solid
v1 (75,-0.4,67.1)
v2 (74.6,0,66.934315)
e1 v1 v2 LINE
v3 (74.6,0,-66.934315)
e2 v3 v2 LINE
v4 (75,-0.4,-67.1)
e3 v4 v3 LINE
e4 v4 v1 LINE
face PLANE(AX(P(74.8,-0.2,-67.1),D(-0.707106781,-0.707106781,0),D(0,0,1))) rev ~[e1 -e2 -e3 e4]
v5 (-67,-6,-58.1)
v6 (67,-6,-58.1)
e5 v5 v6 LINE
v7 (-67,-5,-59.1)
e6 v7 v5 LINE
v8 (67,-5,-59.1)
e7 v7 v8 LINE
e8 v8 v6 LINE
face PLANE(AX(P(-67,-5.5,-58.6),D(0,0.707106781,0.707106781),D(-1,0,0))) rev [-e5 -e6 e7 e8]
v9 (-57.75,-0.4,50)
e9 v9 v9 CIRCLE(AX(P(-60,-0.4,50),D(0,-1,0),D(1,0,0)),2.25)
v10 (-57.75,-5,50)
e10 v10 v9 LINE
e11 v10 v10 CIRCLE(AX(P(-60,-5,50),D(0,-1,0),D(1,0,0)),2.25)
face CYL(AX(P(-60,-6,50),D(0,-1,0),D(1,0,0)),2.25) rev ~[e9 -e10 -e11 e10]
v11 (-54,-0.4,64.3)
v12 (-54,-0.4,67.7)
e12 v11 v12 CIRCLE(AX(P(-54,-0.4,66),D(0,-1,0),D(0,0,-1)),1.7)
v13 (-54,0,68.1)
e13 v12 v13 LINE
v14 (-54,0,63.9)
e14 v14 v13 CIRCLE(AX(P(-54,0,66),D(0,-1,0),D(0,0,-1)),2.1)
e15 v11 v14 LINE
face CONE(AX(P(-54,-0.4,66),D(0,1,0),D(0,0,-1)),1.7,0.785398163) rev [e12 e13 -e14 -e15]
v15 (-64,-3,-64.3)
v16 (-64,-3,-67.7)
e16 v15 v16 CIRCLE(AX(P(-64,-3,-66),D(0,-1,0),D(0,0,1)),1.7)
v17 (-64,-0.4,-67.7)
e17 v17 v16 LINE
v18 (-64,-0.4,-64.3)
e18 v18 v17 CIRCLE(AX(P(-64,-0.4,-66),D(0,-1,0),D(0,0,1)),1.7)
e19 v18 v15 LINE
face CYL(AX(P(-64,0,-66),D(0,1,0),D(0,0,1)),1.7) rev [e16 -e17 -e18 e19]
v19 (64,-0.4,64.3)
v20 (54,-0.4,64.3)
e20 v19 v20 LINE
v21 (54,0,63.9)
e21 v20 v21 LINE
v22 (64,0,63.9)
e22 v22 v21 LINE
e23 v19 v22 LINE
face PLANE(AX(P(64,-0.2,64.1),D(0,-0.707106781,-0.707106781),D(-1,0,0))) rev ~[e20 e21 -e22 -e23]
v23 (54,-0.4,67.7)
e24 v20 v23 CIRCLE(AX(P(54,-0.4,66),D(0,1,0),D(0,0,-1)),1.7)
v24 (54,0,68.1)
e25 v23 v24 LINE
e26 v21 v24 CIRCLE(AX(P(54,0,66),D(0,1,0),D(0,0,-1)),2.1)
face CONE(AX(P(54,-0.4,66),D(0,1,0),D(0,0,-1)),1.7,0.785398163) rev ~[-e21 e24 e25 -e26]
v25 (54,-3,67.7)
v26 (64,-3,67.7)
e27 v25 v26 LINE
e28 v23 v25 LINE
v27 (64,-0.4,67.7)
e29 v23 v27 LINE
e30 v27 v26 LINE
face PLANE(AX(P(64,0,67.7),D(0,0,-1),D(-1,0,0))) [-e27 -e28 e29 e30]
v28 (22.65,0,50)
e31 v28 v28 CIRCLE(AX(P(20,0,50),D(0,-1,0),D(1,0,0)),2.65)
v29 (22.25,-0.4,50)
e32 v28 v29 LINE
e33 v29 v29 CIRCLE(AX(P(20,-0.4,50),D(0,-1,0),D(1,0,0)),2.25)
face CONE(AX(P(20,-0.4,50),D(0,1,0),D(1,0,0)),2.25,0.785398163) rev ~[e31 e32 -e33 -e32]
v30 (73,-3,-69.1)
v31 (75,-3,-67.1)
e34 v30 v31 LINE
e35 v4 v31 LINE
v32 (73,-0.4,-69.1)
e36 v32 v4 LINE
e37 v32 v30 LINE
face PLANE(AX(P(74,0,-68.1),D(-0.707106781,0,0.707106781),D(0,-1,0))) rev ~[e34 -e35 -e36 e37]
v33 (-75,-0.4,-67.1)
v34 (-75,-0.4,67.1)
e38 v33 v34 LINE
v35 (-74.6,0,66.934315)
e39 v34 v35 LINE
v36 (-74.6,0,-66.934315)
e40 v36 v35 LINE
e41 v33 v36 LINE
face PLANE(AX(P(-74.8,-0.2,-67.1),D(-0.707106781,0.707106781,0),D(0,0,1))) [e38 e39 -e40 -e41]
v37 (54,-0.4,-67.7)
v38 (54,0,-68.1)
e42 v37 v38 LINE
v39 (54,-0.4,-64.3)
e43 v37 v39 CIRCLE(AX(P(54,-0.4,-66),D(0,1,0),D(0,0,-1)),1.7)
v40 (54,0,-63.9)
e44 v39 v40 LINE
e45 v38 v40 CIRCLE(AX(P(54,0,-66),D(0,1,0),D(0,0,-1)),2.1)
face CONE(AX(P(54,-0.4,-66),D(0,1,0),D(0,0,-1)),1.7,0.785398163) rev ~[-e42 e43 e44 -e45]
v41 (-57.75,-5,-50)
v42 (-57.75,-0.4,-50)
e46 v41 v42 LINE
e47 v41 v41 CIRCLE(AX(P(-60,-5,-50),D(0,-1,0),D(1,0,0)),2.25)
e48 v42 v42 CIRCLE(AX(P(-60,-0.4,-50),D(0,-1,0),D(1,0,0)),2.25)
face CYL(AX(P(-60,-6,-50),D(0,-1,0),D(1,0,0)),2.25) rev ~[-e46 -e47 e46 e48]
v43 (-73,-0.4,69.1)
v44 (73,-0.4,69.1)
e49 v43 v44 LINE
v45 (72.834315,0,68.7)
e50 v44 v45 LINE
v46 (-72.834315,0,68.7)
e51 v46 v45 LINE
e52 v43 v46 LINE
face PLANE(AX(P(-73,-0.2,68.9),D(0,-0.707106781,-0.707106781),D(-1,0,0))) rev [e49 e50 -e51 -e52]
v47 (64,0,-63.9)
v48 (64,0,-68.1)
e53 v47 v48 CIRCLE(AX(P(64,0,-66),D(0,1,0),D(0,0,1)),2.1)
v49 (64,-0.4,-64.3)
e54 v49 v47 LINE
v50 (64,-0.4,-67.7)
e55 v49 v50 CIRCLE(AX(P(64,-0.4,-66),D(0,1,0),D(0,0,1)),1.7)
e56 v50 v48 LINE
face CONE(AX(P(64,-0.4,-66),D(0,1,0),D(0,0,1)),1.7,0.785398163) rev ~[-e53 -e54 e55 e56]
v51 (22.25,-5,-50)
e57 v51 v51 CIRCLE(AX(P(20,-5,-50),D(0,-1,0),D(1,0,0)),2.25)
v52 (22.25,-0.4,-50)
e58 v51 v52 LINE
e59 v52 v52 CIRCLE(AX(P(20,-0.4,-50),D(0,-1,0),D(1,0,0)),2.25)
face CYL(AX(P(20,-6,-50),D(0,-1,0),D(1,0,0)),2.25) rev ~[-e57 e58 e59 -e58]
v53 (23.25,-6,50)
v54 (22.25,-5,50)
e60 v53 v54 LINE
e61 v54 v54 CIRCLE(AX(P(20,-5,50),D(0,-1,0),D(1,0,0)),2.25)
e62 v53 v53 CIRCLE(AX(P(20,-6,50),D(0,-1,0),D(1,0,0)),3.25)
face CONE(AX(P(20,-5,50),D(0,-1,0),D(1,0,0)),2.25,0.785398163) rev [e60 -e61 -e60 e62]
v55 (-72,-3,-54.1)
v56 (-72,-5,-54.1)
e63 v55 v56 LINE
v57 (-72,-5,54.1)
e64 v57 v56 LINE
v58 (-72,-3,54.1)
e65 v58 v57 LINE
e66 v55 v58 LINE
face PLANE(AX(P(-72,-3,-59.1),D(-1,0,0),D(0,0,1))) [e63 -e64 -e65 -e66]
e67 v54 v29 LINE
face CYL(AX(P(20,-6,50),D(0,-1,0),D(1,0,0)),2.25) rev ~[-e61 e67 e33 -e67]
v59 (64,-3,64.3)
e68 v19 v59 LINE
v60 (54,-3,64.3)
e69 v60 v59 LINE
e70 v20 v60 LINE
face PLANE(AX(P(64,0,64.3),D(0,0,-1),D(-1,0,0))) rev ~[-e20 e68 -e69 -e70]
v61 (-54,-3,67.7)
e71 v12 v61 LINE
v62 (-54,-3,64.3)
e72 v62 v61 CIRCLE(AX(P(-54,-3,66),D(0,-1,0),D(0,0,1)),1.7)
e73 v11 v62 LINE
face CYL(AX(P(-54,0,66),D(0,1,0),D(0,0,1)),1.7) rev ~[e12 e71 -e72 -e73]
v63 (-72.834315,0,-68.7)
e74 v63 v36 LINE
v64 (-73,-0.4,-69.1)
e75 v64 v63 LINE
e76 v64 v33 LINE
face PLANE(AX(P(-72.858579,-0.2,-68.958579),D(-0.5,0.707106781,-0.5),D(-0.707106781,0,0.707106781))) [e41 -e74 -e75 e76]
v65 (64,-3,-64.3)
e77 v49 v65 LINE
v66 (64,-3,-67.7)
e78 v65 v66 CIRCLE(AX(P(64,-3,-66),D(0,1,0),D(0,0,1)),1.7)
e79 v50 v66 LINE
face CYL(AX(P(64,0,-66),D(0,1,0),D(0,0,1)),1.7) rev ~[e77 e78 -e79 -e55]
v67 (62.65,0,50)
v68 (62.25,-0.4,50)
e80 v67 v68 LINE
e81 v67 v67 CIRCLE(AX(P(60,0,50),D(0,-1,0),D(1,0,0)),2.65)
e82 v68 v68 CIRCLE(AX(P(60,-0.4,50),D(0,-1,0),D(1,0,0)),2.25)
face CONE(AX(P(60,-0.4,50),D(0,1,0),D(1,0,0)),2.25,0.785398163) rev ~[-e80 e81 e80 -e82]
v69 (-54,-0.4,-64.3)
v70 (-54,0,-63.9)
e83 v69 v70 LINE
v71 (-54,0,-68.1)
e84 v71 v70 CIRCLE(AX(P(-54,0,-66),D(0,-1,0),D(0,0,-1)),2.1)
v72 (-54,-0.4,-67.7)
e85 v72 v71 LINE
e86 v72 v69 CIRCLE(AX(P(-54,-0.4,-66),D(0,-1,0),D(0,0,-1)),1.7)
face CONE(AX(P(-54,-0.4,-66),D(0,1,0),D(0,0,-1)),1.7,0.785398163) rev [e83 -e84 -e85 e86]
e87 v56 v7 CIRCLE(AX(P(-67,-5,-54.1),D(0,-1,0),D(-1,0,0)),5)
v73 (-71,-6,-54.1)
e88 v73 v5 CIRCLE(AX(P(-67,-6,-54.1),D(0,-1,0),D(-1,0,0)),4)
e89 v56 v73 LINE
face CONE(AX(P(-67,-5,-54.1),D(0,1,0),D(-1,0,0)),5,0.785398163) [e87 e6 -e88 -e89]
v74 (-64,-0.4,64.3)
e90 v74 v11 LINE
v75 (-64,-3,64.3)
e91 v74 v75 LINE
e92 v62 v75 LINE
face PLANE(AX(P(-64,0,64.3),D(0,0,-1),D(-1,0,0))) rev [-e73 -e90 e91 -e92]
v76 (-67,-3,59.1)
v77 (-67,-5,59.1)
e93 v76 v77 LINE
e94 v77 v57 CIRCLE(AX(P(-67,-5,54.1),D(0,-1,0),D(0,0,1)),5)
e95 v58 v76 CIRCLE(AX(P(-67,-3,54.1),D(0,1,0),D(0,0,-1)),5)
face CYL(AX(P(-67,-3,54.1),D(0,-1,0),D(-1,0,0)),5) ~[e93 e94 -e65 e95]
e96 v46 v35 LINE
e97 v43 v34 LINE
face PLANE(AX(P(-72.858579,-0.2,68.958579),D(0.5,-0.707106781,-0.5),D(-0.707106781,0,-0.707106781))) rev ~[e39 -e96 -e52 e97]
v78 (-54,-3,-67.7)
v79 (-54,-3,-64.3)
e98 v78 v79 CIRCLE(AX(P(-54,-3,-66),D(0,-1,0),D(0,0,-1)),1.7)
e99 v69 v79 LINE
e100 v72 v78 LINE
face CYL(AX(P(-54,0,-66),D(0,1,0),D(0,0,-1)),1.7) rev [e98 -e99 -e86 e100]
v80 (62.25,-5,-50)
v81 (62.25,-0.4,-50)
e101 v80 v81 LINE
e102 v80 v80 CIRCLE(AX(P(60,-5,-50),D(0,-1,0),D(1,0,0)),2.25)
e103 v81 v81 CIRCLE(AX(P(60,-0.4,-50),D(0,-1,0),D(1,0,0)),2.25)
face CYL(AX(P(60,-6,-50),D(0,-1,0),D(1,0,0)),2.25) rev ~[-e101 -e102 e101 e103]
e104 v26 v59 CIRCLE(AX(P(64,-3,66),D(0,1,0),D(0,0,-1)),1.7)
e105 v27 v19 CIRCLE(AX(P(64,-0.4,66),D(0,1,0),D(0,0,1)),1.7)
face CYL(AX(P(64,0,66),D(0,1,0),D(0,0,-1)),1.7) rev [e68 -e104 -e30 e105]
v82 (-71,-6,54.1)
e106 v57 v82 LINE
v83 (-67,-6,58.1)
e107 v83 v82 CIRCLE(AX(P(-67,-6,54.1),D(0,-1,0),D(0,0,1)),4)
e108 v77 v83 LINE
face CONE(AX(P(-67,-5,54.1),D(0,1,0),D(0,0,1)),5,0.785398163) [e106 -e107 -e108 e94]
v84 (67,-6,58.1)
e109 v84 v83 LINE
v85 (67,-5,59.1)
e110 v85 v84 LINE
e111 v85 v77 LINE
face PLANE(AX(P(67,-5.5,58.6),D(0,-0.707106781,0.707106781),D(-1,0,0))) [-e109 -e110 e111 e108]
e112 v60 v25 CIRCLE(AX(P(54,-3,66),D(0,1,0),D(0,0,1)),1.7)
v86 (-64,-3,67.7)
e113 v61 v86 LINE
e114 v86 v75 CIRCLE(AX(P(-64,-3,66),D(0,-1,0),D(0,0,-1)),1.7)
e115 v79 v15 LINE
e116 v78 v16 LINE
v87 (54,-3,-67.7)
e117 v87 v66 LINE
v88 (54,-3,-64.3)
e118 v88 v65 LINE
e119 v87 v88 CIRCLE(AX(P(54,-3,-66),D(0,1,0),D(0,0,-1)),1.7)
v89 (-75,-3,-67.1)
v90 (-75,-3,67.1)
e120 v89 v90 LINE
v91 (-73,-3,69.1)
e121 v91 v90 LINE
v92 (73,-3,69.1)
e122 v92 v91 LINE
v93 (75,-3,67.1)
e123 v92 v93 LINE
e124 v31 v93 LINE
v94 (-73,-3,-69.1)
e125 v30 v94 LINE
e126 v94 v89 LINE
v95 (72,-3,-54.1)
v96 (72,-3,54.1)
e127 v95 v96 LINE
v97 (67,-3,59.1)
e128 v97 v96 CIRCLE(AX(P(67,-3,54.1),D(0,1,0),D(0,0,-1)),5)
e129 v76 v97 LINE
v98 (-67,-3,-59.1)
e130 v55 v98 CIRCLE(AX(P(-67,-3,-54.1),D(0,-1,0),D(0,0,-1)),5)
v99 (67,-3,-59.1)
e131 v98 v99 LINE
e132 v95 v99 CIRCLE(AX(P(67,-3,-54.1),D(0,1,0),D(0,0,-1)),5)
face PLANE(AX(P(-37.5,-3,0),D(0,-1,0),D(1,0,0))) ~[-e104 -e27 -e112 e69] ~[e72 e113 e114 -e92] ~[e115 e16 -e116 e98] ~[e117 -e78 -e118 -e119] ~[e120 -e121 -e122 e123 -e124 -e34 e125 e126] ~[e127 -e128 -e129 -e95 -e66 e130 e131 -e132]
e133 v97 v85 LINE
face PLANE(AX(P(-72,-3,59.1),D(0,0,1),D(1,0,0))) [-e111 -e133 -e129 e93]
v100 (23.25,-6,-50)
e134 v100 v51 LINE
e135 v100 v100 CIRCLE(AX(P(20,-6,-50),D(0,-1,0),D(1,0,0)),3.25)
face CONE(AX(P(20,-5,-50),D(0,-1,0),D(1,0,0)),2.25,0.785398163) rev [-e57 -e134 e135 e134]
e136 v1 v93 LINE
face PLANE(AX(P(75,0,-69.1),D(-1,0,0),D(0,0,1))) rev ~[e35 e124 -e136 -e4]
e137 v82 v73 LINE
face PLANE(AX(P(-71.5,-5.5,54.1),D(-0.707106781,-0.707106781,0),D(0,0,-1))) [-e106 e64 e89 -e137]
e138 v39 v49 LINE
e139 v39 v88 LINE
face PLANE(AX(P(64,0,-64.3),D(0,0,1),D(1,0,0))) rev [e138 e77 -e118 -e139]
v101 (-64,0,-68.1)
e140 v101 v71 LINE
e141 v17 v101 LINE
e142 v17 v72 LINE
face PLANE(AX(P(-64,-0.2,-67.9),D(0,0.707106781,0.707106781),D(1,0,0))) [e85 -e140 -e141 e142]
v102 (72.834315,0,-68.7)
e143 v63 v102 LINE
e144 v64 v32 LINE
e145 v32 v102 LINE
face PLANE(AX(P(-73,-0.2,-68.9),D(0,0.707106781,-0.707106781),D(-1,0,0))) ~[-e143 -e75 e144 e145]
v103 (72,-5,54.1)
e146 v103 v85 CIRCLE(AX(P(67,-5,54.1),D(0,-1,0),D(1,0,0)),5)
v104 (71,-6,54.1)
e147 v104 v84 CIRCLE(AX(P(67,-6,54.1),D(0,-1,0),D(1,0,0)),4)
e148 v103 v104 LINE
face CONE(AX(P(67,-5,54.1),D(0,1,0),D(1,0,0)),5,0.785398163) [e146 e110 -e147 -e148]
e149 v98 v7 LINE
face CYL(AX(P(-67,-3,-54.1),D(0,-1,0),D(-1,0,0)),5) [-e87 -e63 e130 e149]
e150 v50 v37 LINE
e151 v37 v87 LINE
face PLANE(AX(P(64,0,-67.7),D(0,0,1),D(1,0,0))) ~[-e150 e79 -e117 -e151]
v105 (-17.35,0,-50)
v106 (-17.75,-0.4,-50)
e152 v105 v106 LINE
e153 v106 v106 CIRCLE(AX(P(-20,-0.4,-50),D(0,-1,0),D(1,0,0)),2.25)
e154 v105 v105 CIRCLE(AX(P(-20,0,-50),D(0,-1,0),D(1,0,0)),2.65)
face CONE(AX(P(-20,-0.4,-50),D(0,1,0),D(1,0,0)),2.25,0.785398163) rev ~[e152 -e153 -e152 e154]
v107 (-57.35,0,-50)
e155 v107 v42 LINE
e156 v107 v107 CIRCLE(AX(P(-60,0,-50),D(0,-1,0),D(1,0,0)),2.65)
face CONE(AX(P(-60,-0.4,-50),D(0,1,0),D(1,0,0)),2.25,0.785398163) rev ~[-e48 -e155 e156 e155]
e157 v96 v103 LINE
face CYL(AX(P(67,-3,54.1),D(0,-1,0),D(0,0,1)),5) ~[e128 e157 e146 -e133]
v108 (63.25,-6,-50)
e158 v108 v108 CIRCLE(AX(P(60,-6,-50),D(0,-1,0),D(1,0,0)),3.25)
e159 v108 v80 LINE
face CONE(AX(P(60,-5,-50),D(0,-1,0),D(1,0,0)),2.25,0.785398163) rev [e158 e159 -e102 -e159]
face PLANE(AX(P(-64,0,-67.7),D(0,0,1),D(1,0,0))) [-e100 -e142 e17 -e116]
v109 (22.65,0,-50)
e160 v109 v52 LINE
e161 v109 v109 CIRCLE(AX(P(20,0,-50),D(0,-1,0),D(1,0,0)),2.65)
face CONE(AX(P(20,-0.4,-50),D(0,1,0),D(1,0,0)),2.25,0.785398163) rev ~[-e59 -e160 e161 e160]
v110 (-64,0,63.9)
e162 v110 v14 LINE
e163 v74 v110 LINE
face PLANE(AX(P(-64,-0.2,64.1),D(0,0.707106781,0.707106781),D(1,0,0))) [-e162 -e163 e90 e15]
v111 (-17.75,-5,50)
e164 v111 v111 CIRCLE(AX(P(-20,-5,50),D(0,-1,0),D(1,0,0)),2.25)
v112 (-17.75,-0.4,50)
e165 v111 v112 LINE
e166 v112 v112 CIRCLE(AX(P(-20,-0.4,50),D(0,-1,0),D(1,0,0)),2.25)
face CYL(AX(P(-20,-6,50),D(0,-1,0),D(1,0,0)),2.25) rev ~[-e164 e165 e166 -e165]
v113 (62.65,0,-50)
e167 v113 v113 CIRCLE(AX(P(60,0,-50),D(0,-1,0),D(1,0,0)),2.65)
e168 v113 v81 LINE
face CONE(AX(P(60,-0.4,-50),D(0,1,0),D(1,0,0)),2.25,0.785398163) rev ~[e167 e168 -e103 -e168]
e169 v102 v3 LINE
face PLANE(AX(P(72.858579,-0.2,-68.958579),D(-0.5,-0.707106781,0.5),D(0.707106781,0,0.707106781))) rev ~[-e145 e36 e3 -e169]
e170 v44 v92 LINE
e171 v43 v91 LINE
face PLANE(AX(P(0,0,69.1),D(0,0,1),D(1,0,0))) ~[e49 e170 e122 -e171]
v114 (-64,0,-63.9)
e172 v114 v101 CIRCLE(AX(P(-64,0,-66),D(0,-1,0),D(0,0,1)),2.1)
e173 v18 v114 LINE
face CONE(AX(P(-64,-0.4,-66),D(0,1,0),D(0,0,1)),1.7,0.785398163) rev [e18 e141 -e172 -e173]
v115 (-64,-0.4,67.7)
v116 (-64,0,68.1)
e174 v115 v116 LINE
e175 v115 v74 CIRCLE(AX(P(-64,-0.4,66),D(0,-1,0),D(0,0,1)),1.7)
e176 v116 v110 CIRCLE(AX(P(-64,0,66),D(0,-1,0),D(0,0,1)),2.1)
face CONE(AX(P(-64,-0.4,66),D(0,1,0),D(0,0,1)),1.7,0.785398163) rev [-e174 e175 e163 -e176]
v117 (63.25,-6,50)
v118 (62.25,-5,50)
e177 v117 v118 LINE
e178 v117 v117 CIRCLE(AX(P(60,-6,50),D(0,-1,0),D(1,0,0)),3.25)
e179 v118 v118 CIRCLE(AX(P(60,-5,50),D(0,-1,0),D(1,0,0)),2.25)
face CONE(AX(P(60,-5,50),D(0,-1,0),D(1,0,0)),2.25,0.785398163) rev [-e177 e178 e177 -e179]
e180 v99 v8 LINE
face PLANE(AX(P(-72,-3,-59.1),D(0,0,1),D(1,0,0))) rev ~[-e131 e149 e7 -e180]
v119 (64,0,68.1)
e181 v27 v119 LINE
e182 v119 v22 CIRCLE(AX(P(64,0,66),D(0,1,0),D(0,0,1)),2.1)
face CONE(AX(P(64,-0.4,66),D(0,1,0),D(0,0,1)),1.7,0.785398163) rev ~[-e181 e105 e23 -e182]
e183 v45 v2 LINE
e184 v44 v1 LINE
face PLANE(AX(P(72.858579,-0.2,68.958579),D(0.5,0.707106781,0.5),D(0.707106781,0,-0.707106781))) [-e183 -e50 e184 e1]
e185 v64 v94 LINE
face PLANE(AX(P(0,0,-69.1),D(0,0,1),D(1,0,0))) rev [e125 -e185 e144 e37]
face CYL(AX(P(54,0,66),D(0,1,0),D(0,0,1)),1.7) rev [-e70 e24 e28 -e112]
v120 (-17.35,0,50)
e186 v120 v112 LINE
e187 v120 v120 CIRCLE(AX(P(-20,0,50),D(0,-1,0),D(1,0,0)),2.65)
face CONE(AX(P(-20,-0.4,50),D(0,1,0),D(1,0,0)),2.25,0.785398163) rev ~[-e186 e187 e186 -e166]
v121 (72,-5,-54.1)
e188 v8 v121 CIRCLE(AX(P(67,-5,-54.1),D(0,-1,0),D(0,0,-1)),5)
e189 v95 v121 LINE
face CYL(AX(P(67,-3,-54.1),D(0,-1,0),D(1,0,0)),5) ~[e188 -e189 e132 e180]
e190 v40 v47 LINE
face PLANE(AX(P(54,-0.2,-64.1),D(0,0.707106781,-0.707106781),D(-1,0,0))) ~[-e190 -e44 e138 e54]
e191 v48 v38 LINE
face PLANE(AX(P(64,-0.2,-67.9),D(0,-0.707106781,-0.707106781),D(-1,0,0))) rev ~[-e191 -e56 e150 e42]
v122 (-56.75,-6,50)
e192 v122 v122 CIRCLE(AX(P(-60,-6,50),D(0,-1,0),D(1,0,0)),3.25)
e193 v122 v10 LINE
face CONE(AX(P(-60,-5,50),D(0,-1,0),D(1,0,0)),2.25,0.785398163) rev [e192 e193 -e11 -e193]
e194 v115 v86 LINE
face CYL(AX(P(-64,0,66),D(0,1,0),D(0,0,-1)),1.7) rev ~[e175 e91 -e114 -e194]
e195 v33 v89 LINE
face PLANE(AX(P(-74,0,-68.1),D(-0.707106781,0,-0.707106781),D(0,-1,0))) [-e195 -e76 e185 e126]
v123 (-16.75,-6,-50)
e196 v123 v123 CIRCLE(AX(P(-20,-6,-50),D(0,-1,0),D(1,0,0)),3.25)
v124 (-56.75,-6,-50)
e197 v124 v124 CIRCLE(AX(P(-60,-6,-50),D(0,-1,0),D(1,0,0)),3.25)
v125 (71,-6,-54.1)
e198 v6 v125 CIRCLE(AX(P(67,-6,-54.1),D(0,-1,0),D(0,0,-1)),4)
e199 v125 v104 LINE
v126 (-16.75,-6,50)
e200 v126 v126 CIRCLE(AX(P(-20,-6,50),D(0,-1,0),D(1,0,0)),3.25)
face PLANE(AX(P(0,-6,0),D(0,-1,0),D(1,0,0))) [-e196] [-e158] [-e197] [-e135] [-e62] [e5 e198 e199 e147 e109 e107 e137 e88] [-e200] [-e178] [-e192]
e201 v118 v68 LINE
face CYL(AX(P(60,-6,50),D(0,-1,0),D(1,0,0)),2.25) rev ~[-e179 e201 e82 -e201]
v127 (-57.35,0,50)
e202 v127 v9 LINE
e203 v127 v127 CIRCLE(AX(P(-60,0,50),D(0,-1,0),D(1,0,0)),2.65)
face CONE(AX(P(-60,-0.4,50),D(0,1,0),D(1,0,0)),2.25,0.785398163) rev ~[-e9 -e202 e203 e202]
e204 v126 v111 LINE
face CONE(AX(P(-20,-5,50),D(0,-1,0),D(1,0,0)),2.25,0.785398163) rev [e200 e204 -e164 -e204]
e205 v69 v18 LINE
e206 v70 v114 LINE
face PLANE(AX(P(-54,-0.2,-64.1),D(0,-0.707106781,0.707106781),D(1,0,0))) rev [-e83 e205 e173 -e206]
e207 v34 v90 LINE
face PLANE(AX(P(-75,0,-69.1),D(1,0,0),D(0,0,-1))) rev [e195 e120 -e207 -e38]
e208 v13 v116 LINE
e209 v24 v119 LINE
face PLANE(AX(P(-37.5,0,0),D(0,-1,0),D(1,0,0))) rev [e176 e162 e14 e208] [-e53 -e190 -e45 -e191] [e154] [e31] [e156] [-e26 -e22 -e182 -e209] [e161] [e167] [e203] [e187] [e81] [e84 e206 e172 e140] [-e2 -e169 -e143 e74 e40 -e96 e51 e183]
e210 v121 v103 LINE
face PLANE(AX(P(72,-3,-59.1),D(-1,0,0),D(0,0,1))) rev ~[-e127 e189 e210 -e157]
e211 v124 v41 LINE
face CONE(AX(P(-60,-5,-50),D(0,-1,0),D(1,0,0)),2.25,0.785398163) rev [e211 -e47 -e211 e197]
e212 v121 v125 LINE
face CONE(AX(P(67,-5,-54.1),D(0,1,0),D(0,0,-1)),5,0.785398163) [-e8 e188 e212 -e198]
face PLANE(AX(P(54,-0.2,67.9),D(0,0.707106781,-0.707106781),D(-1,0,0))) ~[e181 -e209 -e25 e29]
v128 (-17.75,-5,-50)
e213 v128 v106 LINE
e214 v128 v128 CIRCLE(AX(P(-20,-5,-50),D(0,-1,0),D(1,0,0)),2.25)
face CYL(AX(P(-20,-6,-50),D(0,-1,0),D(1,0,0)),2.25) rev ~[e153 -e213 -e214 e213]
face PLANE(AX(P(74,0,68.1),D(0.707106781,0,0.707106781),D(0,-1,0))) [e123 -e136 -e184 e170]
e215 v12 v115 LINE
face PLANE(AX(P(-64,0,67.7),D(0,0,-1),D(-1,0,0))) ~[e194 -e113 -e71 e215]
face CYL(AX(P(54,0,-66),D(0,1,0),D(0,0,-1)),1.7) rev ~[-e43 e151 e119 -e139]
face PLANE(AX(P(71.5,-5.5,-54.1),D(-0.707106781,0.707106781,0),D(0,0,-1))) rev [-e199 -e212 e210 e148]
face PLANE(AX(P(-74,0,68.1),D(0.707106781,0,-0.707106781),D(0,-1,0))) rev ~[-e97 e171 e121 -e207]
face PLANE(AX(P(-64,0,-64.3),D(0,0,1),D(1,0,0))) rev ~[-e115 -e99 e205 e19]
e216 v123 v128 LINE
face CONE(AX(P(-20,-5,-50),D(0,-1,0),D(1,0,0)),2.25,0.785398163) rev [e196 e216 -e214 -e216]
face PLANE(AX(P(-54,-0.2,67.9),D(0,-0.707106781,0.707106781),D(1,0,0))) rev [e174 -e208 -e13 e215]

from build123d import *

# Parameters (mm, degrees)
SKETCH027_W     = 75
SKETCH027_H     = 138.2
PAD016_DEPTH    = 3
POCKET012_DEPTH = 5
CHAMFER016_SIZE = 2
SKETCH029_W     = 144
SKETCH029_H     = 118.2
PAD017_DEPTH    = 3
FILLET005_R     = 5
SKETCH030_R     = 2.25
POCKET013_DEPTH = 7
CHAMFER017_SIZE = 1
CHAMFER018_SIZE = 0.4


with BuildPart() as part:
    # Sketch027 (on XZ_Plane007 of Origin028) → Pad016 (new body)
    with BuildSketch(Plane.XZ):
        with Locations((37.5, 0)):
            Rectangle(SKETCH027_W, SKETCH027_H)
    extrude(amount=PAD016_DEPTH)

    # Sketch028 (on XZ_Plane007 of Origin028) → Pocket012 (cut)
    with BuildSketch(Plane.XZ):
        with BuildLine():
            ThreePointArc((64, 64.3), (65.7, 66), (64, 67.7))
            Line((64, 67.7), (54, 67.7))
            ThreePointArc((54, 67.7), (52.3, 66), (54, 64.3))
            Line((64, 64.3), (54, 64.3))
        make_face()
    pocket012 = extrude(amount=POCKET012_DEPTH, mode=Mode.SUBTRACT)

    # Mirrored010: Pocket012 across XY
    add(pocket012.mirror(Plane.XY), mode=Mode.SUBTRACT)

    # Mirrored011: part across YZ


with BuildPart() as part_1:
    add(part.part)
    add(part.part.mirror(Plane.YZ))

    # Chamfer016
    chamfer016_edges = [part_1.edges().sort_by_distance(p)[0] for p in [
        (-75, -1.5, -69.1),
        (75, -1.5, -69.1),
        (-75, -1.5, 69.1),
        (75, -1.5, 69.1),
    ]]
    chamfer(chamfer016_edges, length=CHAMFER016_SIZE)

    # Sketch029 (on Face5 of Chamfer016) → Pad017 (join)
    with BuildSketch(Plane.XZ.offset(3)):
        Rectangle(SKETCH029_W, SKETCH029_H)
    extrude(amount=PAD017_DEPTH)

    # Fillet005
    fillet005_edges = [part_1.edges().sort_by_distance(p)[0] for p in [
        (72, -4.5, -59.1),
        (72, -4.5, 59.1),
        (-72, -4.5, -59.1),
        (-72, -4.5, 59.1),
    ]]
    fillet(fillet005_edges, radius=FILLET005_R)

    # Sketch030 (on Face34 of Fillet005) → Pocket013 (cut)
    with BuildSketch(Plane.XZ.offset(6)):
        with Locations((-60, 50)):
            Circle(SKETCH030_R)
        with Locations((-20, 50)):
            Circle(SKETCH030_R)
        with Locations((20, 50)):
            Circle(SKETCH030_R)
        with Locations((60, 50)):
            Circle(SKETCH030_R)
        with Locations((60, -50)):
            Circle(SKETCH030_R)
        with Locations((20, -50)):
            Circle(SKETCH030_R)
        with Locations((-20, -50)):
            Circle(SKETCH030_R)
        with Locations((-60, -50)):
            Circle(SKETCH030_R)
    extrude(amount=-POCKET013_DEPTH, mode=Mode.SUBTRACT)

    # Chamfer017
    chamfer017_edges = [part_1.edges().sort_by_distance(p)[0] for p in [
        (0, -6, -59.1),
        (-70.535534, -6, -57.635534),
        (70.535534, -6, -57.635534),
        (-72, -6, 0),
        (72, -6, 0),
        (-70.535534, -6, 57.635534),
        (70.535534, -6, 57.635534),
        (0, -6, 59.1),
        (-62.25, -6, -50),
        (-22.25, -6, -50),
        (-62.25, -6, 50),
        (-22.25, -6, 50),
        (17.75, -6, -50),
        (57.75, -6, -50),
        (17.75, -6, 50),
        (57.75, -6, 50),
    ]]
    chamfer(chamfer017_edges, length=CHAMFER017_SIZE)

    # Chamfer018
    chamfer018_edges = [part_1.edges().sort_by_distance(p)[0] for p in [
        (0, 0, -69.1),
        (74, 0, -68.1),
        (-74, 0, -68.1),
        (75, 0, 0),
        (-75, 0, 0),
        (74, 0, 68.1),
        (-74, 0, 68.1),
        (0, 0, 69.1),
        (-65.7, 0, -66),
        (-59, 0, -64.3),
        (-59, 0, -67.7),
        (-52.3, 0, -66),
        (-62.25, 0, -50),
        (-22.25, 0, -50),
        (-62.25, 0, 50),
        (-59, 0, 64.3),
        (-65.7, 0, 66),
        (-52.3, 0, 66),
        (-59, 0, 67.7),
        (-22.25, 0, 50),
        (17.75, 0, -50),
        (65.7, 0, -66),
        (59, 0, -64.3),
        (59, 0, -67.7),
        (52.3, 0, -66),
        (57.75, 0, -50),
        (17.75, 0, 50),
        (57.75, 0, 50),
        (59, 0, 64.3),
        (65.7, 0, 66),
        (52.3, 0, 66),
        (59, 0, 67.7),
    ]]
    chamfer(chamfer018_edges, length=CHAMFER018_SIZE)


solid = part_1.part
